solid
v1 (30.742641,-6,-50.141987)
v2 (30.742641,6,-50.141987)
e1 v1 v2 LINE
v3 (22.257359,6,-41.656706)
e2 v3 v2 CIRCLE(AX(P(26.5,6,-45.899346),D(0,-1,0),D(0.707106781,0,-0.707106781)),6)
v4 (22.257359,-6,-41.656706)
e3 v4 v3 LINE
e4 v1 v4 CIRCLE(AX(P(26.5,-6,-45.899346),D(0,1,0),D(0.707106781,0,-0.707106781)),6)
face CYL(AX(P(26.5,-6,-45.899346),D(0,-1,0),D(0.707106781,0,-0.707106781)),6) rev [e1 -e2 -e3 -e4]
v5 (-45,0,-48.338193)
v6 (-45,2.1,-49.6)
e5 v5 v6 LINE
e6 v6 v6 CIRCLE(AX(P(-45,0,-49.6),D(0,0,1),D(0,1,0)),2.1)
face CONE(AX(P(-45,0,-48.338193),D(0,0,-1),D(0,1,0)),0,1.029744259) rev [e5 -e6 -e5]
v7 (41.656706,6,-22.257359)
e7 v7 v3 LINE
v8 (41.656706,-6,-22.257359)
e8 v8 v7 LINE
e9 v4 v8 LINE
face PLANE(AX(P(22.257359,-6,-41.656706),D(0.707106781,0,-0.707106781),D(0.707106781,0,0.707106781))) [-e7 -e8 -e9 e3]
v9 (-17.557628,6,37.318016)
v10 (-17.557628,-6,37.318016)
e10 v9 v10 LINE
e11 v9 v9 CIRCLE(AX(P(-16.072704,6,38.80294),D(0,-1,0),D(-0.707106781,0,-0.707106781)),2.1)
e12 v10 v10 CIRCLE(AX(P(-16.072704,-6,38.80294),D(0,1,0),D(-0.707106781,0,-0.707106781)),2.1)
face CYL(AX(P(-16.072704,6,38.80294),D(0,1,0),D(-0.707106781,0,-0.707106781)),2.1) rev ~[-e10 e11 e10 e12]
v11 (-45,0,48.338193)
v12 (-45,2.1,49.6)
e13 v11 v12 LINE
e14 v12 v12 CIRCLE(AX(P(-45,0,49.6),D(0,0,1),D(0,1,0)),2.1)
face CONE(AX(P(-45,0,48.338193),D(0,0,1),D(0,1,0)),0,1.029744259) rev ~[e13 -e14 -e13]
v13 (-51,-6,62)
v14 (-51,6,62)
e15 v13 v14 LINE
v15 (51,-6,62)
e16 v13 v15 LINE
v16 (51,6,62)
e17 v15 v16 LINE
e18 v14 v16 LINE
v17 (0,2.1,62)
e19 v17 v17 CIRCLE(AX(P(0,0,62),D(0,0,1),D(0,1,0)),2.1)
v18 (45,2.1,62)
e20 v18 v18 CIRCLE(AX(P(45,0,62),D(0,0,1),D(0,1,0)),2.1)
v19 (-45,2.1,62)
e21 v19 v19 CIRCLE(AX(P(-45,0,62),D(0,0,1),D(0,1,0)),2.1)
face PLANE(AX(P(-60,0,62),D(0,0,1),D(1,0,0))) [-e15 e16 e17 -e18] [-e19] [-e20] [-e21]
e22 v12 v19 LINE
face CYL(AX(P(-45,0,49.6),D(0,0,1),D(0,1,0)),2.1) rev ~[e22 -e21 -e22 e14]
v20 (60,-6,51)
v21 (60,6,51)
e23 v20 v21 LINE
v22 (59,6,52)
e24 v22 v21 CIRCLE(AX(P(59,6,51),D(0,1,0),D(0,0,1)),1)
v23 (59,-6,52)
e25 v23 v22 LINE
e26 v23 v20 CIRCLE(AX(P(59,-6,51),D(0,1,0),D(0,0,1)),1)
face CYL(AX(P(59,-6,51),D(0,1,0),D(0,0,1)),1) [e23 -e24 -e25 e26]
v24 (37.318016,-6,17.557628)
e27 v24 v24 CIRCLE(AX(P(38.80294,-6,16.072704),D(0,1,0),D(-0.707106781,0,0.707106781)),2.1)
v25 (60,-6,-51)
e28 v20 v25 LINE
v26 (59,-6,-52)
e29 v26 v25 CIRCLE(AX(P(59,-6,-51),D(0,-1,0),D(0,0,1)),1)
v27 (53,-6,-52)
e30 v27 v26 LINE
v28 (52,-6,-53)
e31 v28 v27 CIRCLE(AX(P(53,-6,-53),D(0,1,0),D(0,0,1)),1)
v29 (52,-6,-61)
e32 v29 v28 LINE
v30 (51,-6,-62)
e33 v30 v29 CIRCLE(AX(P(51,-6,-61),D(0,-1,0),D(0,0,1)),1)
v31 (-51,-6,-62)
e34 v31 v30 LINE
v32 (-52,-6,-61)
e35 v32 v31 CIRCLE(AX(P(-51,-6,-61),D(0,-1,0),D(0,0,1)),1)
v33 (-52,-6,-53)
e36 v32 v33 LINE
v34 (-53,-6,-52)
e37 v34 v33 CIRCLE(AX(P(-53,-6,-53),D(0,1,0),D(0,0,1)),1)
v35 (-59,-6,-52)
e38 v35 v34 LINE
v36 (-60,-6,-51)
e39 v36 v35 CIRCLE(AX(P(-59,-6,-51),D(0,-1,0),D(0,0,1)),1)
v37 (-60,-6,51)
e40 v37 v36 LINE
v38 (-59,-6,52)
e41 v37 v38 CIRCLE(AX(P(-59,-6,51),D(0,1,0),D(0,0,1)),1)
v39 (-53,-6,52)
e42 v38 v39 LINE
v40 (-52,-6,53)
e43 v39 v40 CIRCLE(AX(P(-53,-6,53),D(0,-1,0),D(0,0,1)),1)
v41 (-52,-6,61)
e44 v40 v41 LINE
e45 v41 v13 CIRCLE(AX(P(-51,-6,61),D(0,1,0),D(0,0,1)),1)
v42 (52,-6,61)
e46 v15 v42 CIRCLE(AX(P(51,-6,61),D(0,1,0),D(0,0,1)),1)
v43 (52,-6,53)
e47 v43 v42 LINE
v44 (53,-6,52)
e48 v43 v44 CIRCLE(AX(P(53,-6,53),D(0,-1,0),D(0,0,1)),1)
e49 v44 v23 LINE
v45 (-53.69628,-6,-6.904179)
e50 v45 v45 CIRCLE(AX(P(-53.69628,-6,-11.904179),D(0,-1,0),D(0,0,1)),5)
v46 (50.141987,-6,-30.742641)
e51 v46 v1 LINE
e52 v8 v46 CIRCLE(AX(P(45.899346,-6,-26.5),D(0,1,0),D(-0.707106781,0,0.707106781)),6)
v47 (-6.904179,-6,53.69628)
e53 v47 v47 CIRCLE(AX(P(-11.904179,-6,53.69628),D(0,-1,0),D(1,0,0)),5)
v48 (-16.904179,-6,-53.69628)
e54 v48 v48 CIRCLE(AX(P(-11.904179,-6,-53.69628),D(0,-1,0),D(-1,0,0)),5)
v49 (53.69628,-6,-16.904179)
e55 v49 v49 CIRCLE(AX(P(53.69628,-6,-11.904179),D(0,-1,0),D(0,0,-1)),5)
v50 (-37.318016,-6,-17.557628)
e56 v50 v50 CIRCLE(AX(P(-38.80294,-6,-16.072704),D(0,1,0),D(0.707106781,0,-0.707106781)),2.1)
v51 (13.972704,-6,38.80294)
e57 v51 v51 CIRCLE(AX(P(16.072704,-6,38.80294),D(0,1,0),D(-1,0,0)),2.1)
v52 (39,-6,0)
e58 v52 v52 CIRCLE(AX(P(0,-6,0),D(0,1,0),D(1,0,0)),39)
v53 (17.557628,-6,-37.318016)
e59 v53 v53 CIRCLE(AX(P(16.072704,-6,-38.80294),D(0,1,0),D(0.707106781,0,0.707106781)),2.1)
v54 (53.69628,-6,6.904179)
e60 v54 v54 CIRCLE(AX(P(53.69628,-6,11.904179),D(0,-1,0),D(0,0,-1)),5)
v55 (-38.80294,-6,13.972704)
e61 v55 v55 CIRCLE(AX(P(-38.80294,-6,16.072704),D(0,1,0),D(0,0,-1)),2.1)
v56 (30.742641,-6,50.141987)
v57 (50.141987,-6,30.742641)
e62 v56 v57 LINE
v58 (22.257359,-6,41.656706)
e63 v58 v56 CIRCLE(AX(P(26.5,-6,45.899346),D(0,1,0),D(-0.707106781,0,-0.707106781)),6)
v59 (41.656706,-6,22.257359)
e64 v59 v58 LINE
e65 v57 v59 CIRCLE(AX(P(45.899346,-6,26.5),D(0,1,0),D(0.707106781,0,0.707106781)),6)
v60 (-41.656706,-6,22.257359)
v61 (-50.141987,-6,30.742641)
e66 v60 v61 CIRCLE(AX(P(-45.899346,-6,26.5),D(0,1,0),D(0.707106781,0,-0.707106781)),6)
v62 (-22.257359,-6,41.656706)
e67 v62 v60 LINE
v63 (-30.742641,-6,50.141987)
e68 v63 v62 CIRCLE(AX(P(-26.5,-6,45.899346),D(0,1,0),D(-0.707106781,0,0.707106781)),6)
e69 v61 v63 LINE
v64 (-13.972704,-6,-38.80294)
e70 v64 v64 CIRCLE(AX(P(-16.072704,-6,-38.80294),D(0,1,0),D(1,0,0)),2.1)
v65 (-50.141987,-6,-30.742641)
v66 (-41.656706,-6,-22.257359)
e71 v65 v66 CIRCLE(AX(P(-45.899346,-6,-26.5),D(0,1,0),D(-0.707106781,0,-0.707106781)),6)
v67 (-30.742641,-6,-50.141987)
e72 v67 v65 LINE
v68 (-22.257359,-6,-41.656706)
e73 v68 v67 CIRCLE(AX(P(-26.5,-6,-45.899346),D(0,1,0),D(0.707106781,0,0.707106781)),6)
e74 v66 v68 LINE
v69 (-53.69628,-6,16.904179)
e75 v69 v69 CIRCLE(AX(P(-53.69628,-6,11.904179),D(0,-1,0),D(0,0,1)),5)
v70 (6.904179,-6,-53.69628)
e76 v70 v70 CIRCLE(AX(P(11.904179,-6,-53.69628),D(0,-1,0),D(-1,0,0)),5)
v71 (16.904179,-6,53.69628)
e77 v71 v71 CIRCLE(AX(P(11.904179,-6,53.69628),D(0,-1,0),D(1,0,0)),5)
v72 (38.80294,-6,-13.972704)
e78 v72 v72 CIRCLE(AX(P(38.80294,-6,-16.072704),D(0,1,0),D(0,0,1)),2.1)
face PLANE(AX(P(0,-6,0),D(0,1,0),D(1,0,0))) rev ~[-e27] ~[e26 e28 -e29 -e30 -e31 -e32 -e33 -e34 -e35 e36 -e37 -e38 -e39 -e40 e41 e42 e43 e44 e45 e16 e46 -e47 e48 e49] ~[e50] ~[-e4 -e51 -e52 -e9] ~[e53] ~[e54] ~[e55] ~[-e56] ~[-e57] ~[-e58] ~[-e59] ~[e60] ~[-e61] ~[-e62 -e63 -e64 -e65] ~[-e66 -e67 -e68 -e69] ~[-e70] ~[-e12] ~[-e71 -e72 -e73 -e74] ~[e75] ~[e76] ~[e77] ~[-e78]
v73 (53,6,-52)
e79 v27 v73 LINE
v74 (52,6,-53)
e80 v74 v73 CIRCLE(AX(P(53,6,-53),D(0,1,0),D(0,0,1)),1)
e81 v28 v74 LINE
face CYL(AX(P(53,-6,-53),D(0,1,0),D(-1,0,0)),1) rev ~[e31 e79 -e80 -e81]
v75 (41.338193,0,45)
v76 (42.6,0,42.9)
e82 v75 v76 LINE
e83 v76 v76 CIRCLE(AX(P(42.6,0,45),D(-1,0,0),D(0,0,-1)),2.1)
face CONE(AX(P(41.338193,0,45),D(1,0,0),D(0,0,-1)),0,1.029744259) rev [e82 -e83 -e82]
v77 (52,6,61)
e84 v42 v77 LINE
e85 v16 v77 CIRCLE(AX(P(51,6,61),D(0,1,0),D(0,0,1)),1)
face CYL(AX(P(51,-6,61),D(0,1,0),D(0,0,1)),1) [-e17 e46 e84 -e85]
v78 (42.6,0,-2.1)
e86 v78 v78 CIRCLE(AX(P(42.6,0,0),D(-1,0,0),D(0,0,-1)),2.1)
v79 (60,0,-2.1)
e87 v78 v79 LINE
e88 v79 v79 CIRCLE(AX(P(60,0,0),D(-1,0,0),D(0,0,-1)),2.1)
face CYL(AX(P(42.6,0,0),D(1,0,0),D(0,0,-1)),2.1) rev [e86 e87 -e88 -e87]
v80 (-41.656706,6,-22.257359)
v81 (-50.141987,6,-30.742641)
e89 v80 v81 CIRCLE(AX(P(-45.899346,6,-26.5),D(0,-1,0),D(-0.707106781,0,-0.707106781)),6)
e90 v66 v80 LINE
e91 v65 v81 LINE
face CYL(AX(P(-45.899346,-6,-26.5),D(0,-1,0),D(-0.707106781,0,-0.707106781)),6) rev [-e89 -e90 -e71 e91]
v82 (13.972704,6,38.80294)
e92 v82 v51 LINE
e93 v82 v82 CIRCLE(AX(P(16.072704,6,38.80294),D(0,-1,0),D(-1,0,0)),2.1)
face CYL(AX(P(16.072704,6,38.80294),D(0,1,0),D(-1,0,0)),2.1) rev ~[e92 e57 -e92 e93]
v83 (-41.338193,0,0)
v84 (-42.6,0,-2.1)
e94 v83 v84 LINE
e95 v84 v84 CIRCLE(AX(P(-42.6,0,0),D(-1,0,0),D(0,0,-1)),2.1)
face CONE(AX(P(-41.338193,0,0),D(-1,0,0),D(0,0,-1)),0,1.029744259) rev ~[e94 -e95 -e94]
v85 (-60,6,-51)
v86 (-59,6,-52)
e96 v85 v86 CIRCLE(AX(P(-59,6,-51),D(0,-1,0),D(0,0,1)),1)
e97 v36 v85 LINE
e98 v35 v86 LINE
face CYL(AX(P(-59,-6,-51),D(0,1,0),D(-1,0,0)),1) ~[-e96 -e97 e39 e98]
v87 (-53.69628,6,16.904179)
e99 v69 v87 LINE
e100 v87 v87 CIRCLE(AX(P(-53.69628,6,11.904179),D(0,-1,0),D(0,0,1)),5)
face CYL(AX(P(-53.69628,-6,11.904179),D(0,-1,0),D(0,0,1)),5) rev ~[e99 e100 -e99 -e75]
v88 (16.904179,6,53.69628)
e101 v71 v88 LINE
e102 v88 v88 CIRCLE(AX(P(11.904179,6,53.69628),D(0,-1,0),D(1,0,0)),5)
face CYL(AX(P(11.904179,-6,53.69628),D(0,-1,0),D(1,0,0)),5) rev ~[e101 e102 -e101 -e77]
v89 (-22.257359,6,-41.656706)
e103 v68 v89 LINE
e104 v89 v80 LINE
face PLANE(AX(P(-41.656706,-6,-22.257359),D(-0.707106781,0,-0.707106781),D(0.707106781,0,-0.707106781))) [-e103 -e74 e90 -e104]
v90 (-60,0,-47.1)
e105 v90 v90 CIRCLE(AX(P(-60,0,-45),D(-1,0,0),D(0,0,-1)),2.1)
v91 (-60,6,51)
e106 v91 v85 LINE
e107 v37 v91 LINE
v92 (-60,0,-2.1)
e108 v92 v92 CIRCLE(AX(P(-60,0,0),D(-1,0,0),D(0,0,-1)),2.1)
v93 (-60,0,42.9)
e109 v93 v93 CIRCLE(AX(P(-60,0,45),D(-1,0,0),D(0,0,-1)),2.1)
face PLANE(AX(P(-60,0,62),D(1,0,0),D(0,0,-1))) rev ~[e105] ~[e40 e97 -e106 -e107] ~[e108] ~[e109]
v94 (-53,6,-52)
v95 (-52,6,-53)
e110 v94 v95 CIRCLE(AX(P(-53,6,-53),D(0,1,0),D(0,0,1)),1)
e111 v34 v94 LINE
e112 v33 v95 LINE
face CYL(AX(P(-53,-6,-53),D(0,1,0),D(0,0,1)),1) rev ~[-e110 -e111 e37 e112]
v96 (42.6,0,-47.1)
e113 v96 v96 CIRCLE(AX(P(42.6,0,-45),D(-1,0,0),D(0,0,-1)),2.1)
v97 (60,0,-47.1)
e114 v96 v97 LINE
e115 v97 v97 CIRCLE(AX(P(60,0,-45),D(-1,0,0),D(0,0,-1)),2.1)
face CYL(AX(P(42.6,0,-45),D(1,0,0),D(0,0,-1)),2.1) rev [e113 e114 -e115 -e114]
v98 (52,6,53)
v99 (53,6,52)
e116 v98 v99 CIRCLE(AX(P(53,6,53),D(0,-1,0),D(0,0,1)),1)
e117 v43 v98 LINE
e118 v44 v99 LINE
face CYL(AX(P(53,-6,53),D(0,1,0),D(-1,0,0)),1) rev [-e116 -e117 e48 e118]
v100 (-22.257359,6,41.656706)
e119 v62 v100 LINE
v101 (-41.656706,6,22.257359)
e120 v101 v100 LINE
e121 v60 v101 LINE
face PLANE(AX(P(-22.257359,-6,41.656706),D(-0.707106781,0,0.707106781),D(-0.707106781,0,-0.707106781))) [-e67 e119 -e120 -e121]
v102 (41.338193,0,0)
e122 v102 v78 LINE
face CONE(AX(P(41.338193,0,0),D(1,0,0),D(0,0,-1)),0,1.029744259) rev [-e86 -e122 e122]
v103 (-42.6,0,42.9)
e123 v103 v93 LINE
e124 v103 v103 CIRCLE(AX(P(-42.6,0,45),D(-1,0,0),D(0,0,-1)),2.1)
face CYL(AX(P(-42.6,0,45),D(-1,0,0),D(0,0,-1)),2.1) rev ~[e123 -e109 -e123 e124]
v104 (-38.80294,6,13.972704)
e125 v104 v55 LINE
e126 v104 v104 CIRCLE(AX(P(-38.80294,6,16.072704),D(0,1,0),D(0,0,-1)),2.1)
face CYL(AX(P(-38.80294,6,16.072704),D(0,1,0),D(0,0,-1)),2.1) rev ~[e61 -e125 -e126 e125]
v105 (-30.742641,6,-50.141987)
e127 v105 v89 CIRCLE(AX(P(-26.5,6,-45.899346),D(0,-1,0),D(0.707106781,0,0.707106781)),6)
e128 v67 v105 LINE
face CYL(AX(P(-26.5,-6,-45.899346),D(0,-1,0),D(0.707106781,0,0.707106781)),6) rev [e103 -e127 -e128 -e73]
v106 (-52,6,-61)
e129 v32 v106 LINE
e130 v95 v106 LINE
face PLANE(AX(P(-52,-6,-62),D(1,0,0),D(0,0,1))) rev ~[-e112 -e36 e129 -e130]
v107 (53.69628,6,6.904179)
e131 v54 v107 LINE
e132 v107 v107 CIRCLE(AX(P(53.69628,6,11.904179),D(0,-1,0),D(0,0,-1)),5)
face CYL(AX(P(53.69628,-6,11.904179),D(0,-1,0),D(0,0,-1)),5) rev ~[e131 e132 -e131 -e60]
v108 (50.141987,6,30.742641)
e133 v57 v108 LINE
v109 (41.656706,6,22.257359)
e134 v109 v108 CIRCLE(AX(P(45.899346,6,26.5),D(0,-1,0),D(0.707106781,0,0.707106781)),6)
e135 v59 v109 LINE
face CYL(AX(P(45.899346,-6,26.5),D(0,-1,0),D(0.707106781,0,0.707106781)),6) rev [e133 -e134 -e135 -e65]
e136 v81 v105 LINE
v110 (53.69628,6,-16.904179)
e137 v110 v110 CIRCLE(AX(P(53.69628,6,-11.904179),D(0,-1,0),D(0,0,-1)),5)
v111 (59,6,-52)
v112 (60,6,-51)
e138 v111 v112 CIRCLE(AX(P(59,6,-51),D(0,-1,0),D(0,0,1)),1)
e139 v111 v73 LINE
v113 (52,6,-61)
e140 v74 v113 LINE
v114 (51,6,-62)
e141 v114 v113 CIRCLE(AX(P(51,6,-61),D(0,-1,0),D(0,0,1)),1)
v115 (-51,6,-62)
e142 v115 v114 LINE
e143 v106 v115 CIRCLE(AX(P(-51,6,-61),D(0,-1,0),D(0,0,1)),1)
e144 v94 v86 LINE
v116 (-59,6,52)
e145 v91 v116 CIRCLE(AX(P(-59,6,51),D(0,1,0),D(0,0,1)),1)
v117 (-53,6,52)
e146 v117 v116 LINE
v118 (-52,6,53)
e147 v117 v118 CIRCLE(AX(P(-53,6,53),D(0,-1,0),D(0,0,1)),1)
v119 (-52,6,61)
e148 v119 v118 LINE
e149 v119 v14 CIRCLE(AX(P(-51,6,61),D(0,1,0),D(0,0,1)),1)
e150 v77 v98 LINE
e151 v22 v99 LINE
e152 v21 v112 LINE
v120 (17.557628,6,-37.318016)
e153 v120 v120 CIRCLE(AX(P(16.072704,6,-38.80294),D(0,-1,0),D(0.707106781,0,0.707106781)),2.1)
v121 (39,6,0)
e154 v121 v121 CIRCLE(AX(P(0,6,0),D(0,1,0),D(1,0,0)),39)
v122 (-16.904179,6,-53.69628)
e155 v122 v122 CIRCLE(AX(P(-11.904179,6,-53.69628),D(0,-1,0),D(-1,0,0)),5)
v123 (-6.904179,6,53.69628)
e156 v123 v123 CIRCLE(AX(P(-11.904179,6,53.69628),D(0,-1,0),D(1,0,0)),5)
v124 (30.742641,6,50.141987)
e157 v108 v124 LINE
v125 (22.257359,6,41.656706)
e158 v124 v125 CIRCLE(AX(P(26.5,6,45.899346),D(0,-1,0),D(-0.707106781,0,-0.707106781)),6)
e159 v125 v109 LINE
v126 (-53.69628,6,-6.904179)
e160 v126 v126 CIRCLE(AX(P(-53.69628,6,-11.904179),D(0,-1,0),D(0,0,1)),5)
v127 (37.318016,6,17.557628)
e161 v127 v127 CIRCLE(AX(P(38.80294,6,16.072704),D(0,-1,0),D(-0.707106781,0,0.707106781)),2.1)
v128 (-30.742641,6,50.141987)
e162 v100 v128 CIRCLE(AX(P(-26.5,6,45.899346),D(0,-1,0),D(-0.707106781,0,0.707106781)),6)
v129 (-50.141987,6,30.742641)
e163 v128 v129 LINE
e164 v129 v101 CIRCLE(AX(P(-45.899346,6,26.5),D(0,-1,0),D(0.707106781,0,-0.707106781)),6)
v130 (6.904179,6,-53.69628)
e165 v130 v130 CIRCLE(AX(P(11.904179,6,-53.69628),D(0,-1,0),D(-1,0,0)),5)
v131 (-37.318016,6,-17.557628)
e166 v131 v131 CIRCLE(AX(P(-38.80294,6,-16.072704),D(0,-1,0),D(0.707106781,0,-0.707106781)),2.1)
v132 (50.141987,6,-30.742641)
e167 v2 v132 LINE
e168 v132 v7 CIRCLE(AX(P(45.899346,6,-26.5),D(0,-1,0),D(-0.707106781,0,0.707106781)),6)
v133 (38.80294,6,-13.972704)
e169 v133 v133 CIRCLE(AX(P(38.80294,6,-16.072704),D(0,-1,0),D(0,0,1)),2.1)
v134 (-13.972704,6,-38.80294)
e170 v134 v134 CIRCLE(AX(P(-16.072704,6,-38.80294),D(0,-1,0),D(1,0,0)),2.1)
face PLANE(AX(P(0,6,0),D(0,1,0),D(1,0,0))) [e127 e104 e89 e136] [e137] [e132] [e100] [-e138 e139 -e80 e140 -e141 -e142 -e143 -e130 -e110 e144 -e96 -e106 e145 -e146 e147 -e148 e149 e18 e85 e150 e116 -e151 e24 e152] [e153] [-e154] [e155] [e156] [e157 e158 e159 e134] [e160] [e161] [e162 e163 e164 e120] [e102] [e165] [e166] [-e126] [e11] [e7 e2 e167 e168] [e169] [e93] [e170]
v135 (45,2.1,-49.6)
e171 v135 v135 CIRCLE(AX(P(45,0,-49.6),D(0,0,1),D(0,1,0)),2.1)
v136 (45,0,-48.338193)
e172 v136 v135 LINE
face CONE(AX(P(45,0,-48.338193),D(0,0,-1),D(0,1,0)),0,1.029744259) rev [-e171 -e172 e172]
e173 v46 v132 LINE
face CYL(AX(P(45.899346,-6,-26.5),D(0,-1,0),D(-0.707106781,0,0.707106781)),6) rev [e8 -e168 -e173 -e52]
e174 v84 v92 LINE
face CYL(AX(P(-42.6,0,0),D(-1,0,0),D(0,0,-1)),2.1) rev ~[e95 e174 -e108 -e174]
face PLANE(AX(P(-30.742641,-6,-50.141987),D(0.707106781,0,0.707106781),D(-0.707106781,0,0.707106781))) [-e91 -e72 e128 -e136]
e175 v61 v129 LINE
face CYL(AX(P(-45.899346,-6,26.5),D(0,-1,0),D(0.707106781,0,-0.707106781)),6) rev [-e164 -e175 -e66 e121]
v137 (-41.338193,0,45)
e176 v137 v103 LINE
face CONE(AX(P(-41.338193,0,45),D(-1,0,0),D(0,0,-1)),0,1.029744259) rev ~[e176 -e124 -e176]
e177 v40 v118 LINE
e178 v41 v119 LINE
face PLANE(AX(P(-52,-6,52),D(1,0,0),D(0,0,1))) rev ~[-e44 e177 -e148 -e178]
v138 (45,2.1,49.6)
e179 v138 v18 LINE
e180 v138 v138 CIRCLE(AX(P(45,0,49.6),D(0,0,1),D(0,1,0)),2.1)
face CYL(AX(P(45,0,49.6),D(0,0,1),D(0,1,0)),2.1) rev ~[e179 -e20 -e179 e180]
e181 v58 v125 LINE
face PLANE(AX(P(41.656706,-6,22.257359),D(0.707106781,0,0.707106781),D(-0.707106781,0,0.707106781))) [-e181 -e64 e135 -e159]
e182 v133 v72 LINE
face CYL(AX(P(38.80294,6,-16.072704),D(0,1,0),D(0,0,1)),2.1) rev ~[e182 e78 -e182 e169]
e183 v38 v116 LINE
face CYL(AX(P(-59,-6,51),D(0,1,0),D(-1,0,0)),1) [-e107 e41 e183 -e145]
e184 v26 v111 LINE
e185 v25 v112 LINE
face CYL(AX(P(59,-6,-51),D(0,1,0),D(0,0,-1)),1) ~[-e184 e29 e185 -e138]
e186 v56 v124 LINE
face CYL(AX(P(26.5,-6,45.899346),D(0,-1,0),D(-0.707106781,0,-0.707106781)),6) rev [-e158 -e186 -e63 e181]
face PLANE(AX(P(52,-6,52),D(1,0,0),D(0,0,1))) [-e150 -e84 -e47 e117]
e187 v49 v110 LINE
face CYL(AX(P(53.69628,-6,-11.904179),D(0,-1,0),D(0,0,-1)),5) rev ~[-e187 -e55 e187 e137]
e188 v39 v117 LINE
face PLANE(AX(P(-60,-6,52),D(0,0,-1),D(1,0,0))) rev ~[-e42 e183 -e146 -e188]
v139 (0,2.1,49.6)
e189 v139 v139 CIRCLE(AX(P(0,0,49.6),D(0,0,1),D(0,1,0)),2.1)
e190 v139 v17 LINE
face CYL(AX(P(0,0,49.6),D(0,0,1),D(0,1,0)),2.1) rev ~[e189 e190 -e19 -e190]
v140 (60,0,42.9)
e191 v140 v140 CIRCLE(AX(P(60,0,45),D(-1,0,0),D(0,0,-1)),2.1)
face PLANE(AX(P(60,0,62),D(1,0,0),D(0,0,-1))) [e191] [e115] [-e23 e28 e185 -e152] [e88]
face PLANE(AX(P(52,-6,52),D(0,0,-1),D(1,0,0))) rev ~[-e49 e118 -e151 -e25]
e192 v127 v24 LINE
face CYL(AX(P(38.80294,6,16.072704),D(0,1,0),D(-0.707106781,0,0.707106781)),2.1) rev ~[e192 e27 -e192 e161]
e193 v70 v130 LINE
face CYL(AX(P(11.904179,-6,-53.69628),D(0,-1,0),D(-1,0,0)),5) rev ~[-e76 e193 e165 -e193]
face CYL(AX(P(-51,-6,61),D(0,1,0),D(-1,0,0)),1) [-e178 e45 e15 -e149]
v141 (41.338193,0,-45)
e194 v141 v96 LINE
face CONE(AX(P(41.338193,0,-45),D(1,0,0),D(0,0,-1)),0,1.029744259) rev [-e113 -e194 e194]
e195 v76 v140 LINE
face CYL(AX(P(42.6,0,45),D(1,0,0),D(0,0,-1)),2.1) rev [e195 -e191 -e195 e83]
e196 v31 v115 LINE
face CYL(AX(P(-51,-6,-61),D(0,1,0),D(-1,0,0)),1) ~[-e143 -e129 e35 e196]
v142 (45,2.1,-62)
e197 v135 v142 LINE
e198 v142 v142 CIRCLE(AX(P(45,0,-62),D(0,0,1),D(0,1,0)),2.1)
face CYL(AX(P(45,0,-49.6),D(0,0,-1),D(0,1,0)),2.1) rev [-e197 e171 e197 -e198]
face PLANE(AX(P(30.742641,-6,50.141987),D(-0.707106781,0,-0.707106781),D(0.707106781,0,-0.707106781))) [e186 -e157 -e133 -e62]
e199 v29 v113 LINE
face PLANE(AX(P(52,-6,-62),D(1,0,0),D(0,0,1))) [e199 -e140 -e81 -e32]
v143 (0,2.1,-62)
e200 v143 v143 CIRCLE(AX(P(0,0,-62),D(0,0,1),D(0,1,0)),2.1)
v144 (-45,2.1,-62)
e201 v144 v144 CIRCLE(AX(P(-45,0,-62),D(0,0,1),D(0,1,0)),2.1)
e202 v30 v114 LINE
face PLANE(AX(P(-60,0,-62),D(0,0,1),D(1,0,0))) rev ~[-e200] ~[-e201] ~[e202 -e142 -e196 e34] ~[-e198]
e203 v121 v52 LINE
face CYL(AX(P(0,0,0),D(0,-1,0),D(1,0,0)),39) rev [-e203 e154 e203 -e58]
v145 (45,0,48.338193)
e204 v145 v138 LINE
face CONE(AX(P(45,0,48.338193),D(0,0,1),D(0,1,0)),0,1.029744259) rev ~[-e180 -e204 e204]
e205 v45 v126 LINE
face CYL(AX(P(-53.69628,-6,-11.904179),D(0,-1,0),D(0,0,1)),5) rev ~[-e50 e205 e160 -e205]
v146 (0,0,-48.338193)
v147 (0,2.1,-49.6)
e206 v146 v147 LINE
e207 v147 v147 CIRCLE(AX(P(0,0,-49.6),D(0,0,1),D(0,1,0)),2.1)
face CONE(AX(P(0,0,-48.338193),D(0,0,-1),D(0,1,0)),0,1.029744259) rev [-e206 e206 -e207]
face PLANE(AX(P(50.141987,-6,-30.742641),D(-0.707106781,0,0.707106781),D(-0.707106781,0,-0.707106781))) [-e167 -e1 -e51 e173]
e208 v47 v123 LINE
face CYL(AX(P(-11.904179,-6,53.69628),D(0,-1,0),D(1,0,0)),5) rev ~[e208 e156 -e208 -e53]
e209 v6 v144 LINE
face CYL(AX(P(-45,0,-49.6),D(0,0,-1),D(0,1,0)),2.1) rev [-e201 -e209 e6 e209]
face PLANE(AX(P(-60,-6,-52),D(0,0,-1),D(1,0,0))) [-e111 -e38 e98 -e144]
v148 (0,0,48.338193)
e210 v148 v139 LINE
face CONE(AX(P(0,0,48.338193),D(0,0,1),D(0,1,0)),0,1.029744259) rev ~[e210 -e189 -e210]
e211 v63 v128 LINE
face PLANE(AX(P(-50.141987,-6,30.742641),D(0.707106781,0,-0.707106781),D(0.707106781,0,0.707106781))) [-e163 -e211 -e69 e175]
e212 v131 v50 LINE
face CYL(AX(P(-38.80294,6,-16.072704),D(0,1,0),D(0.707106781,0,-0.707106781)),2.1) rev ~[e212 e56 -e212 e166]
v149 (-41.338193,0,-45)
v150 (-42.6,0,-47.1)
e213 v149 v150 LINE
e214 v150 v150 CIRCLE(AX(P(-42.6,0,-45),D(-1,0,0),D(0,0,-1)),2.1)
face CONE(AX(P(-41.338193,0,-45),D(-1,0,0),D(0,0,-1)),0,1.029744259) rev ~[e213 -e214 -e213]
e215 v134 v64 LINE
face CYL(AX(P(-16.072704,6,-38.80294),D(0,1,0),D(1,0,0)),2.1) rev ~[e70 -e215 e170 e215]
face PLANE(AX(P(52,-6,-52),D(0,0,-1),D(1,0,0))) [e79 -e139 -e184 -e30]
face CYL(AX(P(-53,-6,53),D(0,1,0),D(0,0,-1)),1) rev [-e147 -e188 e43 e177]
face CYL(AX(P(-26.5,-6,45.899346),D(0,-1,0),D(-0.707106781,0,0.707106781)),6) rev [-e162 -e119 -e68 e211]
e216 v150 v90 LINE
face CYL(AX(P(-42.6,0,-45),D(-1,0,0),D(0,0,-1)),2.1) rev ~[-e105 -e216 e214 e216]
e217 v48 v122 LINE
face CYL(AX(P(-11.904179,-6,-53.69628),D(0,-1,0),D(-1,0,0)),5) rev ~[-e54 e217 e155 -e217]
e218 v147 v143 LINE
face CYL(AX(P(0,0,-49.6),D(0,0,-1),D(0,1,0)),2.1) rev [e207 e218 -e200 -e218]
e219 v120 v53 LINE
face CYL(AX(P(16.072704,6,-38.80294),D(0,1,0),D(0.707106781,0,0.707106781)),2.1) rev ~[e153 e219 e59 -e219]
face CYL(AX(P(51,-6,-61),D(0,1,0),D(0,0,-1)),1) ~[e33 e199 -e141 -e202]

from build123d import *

# Parameters (mm, degrees)
SKETCH_1_W                  = 120
SKETCH_1_H                  = 124
SKETCH_1_R                  = 39
EXTRUDE_1_DEPTH             = 6
SKETCH_2_R                  = 2.1
CUT_EXTRUDE_1_DEPTH         = 13
PATTERN_CIRCULAR_1_COUNT    = 8
SKETCH_3_R                  = 1.5
CUT_EXTRUDE_2_DEPTH         = 15
SKETCH_4_R                  = 1.5
CUT_EXTRUDE_5_DEPTH         = 10
HOLE_WIZARD_M5_1_AT_2_COUNT = 2
HOLE_WIZARD_M5_1_AT_2_PITCH = 45
HOLE_WIZARD_M5_1_AT_3_COUNT = 2
HOLE_WIZARD_M5_1_AT_3_PITCH = 90
HOLE_WIZARD_M5_2_AT_2_COUNT = 2
HOLE_WIZARD_M5_2_AT_2_PITCH = 45
HOLE_WIZARD_M5_2_AT_3_COUNT = 2
HOLE_WIZARD_M5_2_AT_3_PITCH = 90
SKETCH_10_W                 = 8
SKETCH_10_H                 = 10
CUT_EXTRUDE_6_DEPTH         = 13
HOLE_WIZARD_M5_3_D          = 4.2
CUT_EXTRUDE_7_DEPTH         = 13
PATTERN_CIRCULAR_2_COUNT    = 4
SKETCH_13_R                 = 5
CUT_EXTRUDE_8_DEPTH         = 13
PATTERN_CIRCULAR_3_COUNT    = 4
FILLET_1_R                  = 1


with BuildPart() as part:
    # 草图1 → 凸台-拉伸1 (new body, symmetric)
    with BuildSketch(Plane(origin=(0, 0, 0), x_dir=(1, 0, 0), z_dir=(0, 1, 0))):
        Rectangle(SKETCH_1_W, SKETCH_1_H)
        Circle(SKETCH_1_R, mode=Mode.SUBTRACT)
    extrude(amount=EXTRUDE_1_DEPTH, both=True)

    # 草图2 → 切除-拉伸1 (cut, through all)
    with BuildSketch(Plane(origin=(0, 6, 0), x_dir=(1, 0, 0), z_dir=(0, 1, 0))):
        with Locations((-16.072704159, 38.802940365)):
            Circle(SKETCH_2_R)
    cut_extrude_1 = extrude(amount=-CUT_EXTRUDE_1_DEPTH, mode=Mode.SUBTRACT)

    # 阵列(圆周)1: 切除-拉伸1 ×8 about axis
    pattern_circular_1_axis = Axis((0, 0, 0), (0, 1, 0))
    for i in range(1, PATTERN_CIRCULAR_1_COUNT):
        add(cut_extrude_1.rotate(pattern_circular_1_axis, i * 360 / PATTERN_CIRCULAR_1_COUNT), mode=Mode.SUBTRACT)

    # 草图3 → 切除-拉伸2 (cut)
    with BuildSketch(Plane(origin=(60, 0, 0), x_dir=(0, 0, -1), z_dir=(1, 0, 0))):
        with Locations((-45, 0)):
            Circle(SKETCH_3_R)
        Circle(SKETCH_3_R)
        with Locations((45, 0)):
            Circle(SKETCH_3_R)
    cut_extrude_2 = extrude(amount=-CUT_EXTRUDE_2_DEPTH, mode=Mode.SUBTRACT)

    # 草图4 → 切除-拉伸5 (cut)
    with BuildSketch(Plane(origin=(0, 0, -62), x_dir=(-1, 0, 0), z_dir=(0, 0, -1))):
        with Locations((-45, 0)):
            Circle(SKETCH_4_R)
        Circle(SKETCH_4_R)
        with Locations((45, 0)):
            Circle(SKETCH_4_R)
    cut_extrude_5 = extrude(amount=-CUT_EXTRUDE_5_DEPTH, mode=Mode.SUBTRACT)

    # 草图7 → M5 螺纹孔1 (revolve, cut)
    with BuildSketch(Plane(origin=(60, 0, -45), x_dir=(0, 0, -1), z_dir=(0, 1, 0))):
        Polygon((0, 0), (0, 18.6618073), (2.1, 17.4), (2.1, 0), align=None)
    hole_wizard_m5_1 = revolve(axis=Axis((66.35, 0, -45), (-1, 0, 0)), mode=Mode.SUBTRACT)

    # M5 螺纹孔1 at 2: M5 螺纹孔1 ×2
    with Locations(*[(0, 0, i * HOLE_WIZARD_M5_1_AT_2_PITCH) for i in range(1, HOLE_WIZARD_M5_1_AT_2_COUNT)]):
        add(hole_wizard_m5_1, mode=Mode.SUBTRACT)

    # M5 螺纹孔1 at 3: M5 螺纹孔1 ×2
    with Locations(*[(0, 0, i * HOLE_WIZARD_M5_1_AT_3_PITCH) for i in range(1, HOLE_WIZARD_M5_1_AT_3_COUNT)]):
        add(hole_wizard_m5_1, mode=Mode.SUBTRACT)

    # 草图9 → M5 螺纹孔2 (revolve, cut)
    with BuildSketch(Plane(origin=(45, 0, -62), x_dir=(0, 1, 0), z_dir=(1, 0, 0))):
        Polygon((0, 0), (0, 13.6618073), (2.1, 12.4), (2.1, 0), align=None)
    hole_wizard_m5_2 = revolve(axis=Axis((45, 0, -68.35), (0, 0, 1)), mode=Mode.SUBTRACT)

    # M5 螺纹孔2 at 2: M5 螺纹孔2 ×2
    with Locations(*[(-i * HOLE_WIZARD_M5_2_AT_2_PITCH, 0, 0) for i in range(1, HOLE_WIZARD_M5_2_AT_2_COUNT)]):
        add(hole_wizard_m5_2, mode=Mode.SUBTRACT)

    # M5 螺纹孔2 at 3: M5 螺纹孔2 ×2
    with Locations(*[(-i * HOLE_WIZARD_M5_2_AT_3_PITCH, 0, 0) for i in range(1, HOLE_WIZARD_M5_2_AT_3_COUNT)]):
        add(hole_wizard_m5_2, mode=Mode.SUBTRACT)

    # 镜向1: M5 螺纹孔1, 切除-拉伸2 across plane
    add(hole_wizard_m5_1.mirror(Plane(origin=(0, 0, 0), x_dir=(0, 0, 1), z_dir=(1, 0, 0))), mode=Mode.SUBTRACT)
    add(cut_extrude_2.mirror(Plane(origin=(0, 0, 0), x_dir=(0, 0, 1), z_dir=(1, 0, 0))), mode=Mode.SUBTRACT)

    # 镜向1 copy 1 sketch → 镜向1 copy 1 (revolve, cut)
    with BuildSketch(Plane(origin=(-60, 0, 0), x_dir=(0, 0, -1), z_dir=(0, 1, 0))):
        Polygon((0, 0), (0, -18.6618073), (2.1, -17.4), (2.1, 0), align=None)
    revolve(axis=Axis((-66.35, 0, 0), (-1, 0, 0)), mode=Mode.SUBTRACT)

    # 镜向1 copy 2 sketch → 镜向1 copy 2 (revolve, cut)
    with BuildSketch(Plane(origin=(-60, 0, 45), x_dir=(0, 0, -1), z_dir=(0, 1, 0))):
        Polygon((0, 0), (0, -18.6618073), (2.1, -17.4), (2.1, 0), align=None)
    revolve(axis=Axis((-66.35, 0, 45), (-1, 0, 0)), mode=Mode.SUBTRACT)

    # 镜向2: M5 螺纹孔2, 切除-拉伸5 across plane
    add(hole_wizard_m5_2.mirror(Plane.XY), mode=Mode.SUBTRACT)
    add(cut_extrude_5.mirror(Plane.XY), mode=Mode.SUBTRACT)

    # 镜向2 copy 1 sketch → 镜向2 copy 1 (revolve, cut)
    with BuildSketch(Plane(origin=(0, 0, 62), x_dir=(0, 1, 0), z_dir=(1, 0, 0))):
        Polygon((0, 0), (0, -13.6618073), (2.1, -12.4), (2.1, 0), align=None)
    revolve(axis=Axis((0, 0, 68.35), (0, 0, 1)), mode=Mode.SUBTRACT)

    # 镜向2 copy 2 sketch → 镜向2 copy 2 (revolve, cut)
    with BuildSketch(Plane(origin=(-45, 0, 62), x_dir=(0, 1, 0), z_dir=(1, 0, 0))):
        Polygon((0, 0), (0, -13.6618073), (2.1, -12.4), (2.1, 0), align=None)
    revolve(axis=Axis((-45, 0, 68.35), (0, 0, 1)), mode=Mode.SUBTRACT)

    # 草图10 → 切除-拉伸6 (cut, through all)
    with BuildSketch(Plane.XZ.offset(6)):
        with Locations((-56, 57)):
            Rectangle(SKETCH_10_W, SKETCH_10_H)
        with Locations((56, 57)):
            Rectangle(SKETCH_10_W, SKETCH_10_H)
        with Locations((56, -57)):
            Rectangle(SKETCH_10_W, SKETCH_10_H)
        with Locations((-56, -57)):
            Rectangle(SKETCH_10_W, SKETCH_10_H)
    extrude(amount=-CUT_EXTRUDE_6_DEPTH, mode=Mode.SUBTRACT)

    # M5 螺纹孔3 (through all)
    with Locations(Plane(origin=(16.072704159, 6, -38.802940365), x_dir=(0, 0, 1), z_dir=(0, 1, 0))):
        with Locations((0, 0), (22.730236206, 22.730236206), (54.875644524, 22.730236206), (77.60588073, 0), (77.60588073, -32.145408318), (54.875644524, -54.875644524), (22.730236206, -54.875644524), (0, -32.145408318)):
            Hole(HOLE_WIZARD_M5_3_D / 2)

    # 草图12 → 切除-拉伸7 (cut, through all)
    with BuildSketch(Plane.XZ.offset(6)):
        with BuildLine():
            Line((22.257359313, -41.656705713), (41.656705713, -22.257359313))
            ThreePointArc((41.656705713, -22.257359313), (50.141987088, -22.257359313), (50.141987088, -30.742640687))
            Line((50.141987088, -30.742640687), (30.742640687, -50.141987088))
            ThreePointArc((30.742640687, -50.141987088), (22.257359313, -50.141987088), (22.257359313, -41.656705713))
        make_face()
    cut_extrude_7 = extrude(amount=-CUT_EXTRUDE_7_DEPTH, mode=Mode.SUBTRACT)

    # 阵列(圆周)2: 切除-拉伸7 ×4 about axis
    pattern_circular_2_axis = Axis((0, 0, 0), (0, 1, 0))
    for i in range(1, PATTERN_CIRCULAR_2_COUNT):
        add(cut_extrude_7.rotate(pattern_circular_2_axis, i * 360 / PATTERN_CIRCULAR_2_COUNT), mode=Mode.SUBTRACT)

    # 草图13 → 切除-拉伸8 (cut, through all)
    with BuildSketch(Plane.XZ.offset(6)):
        with Locations((11.904178767, 53.696280392)):
            Circle(SKETCH_13_R)
        with Locations((-11.904178767, 53.696280392)):
            Circle(SKETCH_13_R)
    cut_extrude_8 = extrude(amount=-CUT_EXTRUDE_8_DEPTH, mode=Mode.SUBTRACT)

    # 阵列(圆周)3: 切除-拉伸8 ×4 about axis
    pattern_circular_3_axis = Axis((0, 0, 0), (0, 1, 0))
    for i in range(1, PATTERN_CIRCULAR_3_COUNT):
        add(cut_extrude_8.rotate(pattern_circular_3_axis, i * 360 / PATTERN_CIRCULAR_3_COUNT), mode=Mode.SUBTRACT)

    # 圆角1
    fillet_1_edges = [part.edges().sort_by_distance(p)[0] for p in [
        (-60, 0, -52),
        (-52, 0, -52),
        (-52, 0, -62),
        (60, 0, -52),
        (52, 0, -62),
        (52, 0, -52),
        (60, 0, 52),
        (52, 0, 52),
        (52, 0, 62),
        (-60, 0, 52),
        (-52, 0, 62),
        (-52, 0, 52),
    ]]
    fillet(fillet_1_edges, radius=FILLET_1_R)


solid = part.part
